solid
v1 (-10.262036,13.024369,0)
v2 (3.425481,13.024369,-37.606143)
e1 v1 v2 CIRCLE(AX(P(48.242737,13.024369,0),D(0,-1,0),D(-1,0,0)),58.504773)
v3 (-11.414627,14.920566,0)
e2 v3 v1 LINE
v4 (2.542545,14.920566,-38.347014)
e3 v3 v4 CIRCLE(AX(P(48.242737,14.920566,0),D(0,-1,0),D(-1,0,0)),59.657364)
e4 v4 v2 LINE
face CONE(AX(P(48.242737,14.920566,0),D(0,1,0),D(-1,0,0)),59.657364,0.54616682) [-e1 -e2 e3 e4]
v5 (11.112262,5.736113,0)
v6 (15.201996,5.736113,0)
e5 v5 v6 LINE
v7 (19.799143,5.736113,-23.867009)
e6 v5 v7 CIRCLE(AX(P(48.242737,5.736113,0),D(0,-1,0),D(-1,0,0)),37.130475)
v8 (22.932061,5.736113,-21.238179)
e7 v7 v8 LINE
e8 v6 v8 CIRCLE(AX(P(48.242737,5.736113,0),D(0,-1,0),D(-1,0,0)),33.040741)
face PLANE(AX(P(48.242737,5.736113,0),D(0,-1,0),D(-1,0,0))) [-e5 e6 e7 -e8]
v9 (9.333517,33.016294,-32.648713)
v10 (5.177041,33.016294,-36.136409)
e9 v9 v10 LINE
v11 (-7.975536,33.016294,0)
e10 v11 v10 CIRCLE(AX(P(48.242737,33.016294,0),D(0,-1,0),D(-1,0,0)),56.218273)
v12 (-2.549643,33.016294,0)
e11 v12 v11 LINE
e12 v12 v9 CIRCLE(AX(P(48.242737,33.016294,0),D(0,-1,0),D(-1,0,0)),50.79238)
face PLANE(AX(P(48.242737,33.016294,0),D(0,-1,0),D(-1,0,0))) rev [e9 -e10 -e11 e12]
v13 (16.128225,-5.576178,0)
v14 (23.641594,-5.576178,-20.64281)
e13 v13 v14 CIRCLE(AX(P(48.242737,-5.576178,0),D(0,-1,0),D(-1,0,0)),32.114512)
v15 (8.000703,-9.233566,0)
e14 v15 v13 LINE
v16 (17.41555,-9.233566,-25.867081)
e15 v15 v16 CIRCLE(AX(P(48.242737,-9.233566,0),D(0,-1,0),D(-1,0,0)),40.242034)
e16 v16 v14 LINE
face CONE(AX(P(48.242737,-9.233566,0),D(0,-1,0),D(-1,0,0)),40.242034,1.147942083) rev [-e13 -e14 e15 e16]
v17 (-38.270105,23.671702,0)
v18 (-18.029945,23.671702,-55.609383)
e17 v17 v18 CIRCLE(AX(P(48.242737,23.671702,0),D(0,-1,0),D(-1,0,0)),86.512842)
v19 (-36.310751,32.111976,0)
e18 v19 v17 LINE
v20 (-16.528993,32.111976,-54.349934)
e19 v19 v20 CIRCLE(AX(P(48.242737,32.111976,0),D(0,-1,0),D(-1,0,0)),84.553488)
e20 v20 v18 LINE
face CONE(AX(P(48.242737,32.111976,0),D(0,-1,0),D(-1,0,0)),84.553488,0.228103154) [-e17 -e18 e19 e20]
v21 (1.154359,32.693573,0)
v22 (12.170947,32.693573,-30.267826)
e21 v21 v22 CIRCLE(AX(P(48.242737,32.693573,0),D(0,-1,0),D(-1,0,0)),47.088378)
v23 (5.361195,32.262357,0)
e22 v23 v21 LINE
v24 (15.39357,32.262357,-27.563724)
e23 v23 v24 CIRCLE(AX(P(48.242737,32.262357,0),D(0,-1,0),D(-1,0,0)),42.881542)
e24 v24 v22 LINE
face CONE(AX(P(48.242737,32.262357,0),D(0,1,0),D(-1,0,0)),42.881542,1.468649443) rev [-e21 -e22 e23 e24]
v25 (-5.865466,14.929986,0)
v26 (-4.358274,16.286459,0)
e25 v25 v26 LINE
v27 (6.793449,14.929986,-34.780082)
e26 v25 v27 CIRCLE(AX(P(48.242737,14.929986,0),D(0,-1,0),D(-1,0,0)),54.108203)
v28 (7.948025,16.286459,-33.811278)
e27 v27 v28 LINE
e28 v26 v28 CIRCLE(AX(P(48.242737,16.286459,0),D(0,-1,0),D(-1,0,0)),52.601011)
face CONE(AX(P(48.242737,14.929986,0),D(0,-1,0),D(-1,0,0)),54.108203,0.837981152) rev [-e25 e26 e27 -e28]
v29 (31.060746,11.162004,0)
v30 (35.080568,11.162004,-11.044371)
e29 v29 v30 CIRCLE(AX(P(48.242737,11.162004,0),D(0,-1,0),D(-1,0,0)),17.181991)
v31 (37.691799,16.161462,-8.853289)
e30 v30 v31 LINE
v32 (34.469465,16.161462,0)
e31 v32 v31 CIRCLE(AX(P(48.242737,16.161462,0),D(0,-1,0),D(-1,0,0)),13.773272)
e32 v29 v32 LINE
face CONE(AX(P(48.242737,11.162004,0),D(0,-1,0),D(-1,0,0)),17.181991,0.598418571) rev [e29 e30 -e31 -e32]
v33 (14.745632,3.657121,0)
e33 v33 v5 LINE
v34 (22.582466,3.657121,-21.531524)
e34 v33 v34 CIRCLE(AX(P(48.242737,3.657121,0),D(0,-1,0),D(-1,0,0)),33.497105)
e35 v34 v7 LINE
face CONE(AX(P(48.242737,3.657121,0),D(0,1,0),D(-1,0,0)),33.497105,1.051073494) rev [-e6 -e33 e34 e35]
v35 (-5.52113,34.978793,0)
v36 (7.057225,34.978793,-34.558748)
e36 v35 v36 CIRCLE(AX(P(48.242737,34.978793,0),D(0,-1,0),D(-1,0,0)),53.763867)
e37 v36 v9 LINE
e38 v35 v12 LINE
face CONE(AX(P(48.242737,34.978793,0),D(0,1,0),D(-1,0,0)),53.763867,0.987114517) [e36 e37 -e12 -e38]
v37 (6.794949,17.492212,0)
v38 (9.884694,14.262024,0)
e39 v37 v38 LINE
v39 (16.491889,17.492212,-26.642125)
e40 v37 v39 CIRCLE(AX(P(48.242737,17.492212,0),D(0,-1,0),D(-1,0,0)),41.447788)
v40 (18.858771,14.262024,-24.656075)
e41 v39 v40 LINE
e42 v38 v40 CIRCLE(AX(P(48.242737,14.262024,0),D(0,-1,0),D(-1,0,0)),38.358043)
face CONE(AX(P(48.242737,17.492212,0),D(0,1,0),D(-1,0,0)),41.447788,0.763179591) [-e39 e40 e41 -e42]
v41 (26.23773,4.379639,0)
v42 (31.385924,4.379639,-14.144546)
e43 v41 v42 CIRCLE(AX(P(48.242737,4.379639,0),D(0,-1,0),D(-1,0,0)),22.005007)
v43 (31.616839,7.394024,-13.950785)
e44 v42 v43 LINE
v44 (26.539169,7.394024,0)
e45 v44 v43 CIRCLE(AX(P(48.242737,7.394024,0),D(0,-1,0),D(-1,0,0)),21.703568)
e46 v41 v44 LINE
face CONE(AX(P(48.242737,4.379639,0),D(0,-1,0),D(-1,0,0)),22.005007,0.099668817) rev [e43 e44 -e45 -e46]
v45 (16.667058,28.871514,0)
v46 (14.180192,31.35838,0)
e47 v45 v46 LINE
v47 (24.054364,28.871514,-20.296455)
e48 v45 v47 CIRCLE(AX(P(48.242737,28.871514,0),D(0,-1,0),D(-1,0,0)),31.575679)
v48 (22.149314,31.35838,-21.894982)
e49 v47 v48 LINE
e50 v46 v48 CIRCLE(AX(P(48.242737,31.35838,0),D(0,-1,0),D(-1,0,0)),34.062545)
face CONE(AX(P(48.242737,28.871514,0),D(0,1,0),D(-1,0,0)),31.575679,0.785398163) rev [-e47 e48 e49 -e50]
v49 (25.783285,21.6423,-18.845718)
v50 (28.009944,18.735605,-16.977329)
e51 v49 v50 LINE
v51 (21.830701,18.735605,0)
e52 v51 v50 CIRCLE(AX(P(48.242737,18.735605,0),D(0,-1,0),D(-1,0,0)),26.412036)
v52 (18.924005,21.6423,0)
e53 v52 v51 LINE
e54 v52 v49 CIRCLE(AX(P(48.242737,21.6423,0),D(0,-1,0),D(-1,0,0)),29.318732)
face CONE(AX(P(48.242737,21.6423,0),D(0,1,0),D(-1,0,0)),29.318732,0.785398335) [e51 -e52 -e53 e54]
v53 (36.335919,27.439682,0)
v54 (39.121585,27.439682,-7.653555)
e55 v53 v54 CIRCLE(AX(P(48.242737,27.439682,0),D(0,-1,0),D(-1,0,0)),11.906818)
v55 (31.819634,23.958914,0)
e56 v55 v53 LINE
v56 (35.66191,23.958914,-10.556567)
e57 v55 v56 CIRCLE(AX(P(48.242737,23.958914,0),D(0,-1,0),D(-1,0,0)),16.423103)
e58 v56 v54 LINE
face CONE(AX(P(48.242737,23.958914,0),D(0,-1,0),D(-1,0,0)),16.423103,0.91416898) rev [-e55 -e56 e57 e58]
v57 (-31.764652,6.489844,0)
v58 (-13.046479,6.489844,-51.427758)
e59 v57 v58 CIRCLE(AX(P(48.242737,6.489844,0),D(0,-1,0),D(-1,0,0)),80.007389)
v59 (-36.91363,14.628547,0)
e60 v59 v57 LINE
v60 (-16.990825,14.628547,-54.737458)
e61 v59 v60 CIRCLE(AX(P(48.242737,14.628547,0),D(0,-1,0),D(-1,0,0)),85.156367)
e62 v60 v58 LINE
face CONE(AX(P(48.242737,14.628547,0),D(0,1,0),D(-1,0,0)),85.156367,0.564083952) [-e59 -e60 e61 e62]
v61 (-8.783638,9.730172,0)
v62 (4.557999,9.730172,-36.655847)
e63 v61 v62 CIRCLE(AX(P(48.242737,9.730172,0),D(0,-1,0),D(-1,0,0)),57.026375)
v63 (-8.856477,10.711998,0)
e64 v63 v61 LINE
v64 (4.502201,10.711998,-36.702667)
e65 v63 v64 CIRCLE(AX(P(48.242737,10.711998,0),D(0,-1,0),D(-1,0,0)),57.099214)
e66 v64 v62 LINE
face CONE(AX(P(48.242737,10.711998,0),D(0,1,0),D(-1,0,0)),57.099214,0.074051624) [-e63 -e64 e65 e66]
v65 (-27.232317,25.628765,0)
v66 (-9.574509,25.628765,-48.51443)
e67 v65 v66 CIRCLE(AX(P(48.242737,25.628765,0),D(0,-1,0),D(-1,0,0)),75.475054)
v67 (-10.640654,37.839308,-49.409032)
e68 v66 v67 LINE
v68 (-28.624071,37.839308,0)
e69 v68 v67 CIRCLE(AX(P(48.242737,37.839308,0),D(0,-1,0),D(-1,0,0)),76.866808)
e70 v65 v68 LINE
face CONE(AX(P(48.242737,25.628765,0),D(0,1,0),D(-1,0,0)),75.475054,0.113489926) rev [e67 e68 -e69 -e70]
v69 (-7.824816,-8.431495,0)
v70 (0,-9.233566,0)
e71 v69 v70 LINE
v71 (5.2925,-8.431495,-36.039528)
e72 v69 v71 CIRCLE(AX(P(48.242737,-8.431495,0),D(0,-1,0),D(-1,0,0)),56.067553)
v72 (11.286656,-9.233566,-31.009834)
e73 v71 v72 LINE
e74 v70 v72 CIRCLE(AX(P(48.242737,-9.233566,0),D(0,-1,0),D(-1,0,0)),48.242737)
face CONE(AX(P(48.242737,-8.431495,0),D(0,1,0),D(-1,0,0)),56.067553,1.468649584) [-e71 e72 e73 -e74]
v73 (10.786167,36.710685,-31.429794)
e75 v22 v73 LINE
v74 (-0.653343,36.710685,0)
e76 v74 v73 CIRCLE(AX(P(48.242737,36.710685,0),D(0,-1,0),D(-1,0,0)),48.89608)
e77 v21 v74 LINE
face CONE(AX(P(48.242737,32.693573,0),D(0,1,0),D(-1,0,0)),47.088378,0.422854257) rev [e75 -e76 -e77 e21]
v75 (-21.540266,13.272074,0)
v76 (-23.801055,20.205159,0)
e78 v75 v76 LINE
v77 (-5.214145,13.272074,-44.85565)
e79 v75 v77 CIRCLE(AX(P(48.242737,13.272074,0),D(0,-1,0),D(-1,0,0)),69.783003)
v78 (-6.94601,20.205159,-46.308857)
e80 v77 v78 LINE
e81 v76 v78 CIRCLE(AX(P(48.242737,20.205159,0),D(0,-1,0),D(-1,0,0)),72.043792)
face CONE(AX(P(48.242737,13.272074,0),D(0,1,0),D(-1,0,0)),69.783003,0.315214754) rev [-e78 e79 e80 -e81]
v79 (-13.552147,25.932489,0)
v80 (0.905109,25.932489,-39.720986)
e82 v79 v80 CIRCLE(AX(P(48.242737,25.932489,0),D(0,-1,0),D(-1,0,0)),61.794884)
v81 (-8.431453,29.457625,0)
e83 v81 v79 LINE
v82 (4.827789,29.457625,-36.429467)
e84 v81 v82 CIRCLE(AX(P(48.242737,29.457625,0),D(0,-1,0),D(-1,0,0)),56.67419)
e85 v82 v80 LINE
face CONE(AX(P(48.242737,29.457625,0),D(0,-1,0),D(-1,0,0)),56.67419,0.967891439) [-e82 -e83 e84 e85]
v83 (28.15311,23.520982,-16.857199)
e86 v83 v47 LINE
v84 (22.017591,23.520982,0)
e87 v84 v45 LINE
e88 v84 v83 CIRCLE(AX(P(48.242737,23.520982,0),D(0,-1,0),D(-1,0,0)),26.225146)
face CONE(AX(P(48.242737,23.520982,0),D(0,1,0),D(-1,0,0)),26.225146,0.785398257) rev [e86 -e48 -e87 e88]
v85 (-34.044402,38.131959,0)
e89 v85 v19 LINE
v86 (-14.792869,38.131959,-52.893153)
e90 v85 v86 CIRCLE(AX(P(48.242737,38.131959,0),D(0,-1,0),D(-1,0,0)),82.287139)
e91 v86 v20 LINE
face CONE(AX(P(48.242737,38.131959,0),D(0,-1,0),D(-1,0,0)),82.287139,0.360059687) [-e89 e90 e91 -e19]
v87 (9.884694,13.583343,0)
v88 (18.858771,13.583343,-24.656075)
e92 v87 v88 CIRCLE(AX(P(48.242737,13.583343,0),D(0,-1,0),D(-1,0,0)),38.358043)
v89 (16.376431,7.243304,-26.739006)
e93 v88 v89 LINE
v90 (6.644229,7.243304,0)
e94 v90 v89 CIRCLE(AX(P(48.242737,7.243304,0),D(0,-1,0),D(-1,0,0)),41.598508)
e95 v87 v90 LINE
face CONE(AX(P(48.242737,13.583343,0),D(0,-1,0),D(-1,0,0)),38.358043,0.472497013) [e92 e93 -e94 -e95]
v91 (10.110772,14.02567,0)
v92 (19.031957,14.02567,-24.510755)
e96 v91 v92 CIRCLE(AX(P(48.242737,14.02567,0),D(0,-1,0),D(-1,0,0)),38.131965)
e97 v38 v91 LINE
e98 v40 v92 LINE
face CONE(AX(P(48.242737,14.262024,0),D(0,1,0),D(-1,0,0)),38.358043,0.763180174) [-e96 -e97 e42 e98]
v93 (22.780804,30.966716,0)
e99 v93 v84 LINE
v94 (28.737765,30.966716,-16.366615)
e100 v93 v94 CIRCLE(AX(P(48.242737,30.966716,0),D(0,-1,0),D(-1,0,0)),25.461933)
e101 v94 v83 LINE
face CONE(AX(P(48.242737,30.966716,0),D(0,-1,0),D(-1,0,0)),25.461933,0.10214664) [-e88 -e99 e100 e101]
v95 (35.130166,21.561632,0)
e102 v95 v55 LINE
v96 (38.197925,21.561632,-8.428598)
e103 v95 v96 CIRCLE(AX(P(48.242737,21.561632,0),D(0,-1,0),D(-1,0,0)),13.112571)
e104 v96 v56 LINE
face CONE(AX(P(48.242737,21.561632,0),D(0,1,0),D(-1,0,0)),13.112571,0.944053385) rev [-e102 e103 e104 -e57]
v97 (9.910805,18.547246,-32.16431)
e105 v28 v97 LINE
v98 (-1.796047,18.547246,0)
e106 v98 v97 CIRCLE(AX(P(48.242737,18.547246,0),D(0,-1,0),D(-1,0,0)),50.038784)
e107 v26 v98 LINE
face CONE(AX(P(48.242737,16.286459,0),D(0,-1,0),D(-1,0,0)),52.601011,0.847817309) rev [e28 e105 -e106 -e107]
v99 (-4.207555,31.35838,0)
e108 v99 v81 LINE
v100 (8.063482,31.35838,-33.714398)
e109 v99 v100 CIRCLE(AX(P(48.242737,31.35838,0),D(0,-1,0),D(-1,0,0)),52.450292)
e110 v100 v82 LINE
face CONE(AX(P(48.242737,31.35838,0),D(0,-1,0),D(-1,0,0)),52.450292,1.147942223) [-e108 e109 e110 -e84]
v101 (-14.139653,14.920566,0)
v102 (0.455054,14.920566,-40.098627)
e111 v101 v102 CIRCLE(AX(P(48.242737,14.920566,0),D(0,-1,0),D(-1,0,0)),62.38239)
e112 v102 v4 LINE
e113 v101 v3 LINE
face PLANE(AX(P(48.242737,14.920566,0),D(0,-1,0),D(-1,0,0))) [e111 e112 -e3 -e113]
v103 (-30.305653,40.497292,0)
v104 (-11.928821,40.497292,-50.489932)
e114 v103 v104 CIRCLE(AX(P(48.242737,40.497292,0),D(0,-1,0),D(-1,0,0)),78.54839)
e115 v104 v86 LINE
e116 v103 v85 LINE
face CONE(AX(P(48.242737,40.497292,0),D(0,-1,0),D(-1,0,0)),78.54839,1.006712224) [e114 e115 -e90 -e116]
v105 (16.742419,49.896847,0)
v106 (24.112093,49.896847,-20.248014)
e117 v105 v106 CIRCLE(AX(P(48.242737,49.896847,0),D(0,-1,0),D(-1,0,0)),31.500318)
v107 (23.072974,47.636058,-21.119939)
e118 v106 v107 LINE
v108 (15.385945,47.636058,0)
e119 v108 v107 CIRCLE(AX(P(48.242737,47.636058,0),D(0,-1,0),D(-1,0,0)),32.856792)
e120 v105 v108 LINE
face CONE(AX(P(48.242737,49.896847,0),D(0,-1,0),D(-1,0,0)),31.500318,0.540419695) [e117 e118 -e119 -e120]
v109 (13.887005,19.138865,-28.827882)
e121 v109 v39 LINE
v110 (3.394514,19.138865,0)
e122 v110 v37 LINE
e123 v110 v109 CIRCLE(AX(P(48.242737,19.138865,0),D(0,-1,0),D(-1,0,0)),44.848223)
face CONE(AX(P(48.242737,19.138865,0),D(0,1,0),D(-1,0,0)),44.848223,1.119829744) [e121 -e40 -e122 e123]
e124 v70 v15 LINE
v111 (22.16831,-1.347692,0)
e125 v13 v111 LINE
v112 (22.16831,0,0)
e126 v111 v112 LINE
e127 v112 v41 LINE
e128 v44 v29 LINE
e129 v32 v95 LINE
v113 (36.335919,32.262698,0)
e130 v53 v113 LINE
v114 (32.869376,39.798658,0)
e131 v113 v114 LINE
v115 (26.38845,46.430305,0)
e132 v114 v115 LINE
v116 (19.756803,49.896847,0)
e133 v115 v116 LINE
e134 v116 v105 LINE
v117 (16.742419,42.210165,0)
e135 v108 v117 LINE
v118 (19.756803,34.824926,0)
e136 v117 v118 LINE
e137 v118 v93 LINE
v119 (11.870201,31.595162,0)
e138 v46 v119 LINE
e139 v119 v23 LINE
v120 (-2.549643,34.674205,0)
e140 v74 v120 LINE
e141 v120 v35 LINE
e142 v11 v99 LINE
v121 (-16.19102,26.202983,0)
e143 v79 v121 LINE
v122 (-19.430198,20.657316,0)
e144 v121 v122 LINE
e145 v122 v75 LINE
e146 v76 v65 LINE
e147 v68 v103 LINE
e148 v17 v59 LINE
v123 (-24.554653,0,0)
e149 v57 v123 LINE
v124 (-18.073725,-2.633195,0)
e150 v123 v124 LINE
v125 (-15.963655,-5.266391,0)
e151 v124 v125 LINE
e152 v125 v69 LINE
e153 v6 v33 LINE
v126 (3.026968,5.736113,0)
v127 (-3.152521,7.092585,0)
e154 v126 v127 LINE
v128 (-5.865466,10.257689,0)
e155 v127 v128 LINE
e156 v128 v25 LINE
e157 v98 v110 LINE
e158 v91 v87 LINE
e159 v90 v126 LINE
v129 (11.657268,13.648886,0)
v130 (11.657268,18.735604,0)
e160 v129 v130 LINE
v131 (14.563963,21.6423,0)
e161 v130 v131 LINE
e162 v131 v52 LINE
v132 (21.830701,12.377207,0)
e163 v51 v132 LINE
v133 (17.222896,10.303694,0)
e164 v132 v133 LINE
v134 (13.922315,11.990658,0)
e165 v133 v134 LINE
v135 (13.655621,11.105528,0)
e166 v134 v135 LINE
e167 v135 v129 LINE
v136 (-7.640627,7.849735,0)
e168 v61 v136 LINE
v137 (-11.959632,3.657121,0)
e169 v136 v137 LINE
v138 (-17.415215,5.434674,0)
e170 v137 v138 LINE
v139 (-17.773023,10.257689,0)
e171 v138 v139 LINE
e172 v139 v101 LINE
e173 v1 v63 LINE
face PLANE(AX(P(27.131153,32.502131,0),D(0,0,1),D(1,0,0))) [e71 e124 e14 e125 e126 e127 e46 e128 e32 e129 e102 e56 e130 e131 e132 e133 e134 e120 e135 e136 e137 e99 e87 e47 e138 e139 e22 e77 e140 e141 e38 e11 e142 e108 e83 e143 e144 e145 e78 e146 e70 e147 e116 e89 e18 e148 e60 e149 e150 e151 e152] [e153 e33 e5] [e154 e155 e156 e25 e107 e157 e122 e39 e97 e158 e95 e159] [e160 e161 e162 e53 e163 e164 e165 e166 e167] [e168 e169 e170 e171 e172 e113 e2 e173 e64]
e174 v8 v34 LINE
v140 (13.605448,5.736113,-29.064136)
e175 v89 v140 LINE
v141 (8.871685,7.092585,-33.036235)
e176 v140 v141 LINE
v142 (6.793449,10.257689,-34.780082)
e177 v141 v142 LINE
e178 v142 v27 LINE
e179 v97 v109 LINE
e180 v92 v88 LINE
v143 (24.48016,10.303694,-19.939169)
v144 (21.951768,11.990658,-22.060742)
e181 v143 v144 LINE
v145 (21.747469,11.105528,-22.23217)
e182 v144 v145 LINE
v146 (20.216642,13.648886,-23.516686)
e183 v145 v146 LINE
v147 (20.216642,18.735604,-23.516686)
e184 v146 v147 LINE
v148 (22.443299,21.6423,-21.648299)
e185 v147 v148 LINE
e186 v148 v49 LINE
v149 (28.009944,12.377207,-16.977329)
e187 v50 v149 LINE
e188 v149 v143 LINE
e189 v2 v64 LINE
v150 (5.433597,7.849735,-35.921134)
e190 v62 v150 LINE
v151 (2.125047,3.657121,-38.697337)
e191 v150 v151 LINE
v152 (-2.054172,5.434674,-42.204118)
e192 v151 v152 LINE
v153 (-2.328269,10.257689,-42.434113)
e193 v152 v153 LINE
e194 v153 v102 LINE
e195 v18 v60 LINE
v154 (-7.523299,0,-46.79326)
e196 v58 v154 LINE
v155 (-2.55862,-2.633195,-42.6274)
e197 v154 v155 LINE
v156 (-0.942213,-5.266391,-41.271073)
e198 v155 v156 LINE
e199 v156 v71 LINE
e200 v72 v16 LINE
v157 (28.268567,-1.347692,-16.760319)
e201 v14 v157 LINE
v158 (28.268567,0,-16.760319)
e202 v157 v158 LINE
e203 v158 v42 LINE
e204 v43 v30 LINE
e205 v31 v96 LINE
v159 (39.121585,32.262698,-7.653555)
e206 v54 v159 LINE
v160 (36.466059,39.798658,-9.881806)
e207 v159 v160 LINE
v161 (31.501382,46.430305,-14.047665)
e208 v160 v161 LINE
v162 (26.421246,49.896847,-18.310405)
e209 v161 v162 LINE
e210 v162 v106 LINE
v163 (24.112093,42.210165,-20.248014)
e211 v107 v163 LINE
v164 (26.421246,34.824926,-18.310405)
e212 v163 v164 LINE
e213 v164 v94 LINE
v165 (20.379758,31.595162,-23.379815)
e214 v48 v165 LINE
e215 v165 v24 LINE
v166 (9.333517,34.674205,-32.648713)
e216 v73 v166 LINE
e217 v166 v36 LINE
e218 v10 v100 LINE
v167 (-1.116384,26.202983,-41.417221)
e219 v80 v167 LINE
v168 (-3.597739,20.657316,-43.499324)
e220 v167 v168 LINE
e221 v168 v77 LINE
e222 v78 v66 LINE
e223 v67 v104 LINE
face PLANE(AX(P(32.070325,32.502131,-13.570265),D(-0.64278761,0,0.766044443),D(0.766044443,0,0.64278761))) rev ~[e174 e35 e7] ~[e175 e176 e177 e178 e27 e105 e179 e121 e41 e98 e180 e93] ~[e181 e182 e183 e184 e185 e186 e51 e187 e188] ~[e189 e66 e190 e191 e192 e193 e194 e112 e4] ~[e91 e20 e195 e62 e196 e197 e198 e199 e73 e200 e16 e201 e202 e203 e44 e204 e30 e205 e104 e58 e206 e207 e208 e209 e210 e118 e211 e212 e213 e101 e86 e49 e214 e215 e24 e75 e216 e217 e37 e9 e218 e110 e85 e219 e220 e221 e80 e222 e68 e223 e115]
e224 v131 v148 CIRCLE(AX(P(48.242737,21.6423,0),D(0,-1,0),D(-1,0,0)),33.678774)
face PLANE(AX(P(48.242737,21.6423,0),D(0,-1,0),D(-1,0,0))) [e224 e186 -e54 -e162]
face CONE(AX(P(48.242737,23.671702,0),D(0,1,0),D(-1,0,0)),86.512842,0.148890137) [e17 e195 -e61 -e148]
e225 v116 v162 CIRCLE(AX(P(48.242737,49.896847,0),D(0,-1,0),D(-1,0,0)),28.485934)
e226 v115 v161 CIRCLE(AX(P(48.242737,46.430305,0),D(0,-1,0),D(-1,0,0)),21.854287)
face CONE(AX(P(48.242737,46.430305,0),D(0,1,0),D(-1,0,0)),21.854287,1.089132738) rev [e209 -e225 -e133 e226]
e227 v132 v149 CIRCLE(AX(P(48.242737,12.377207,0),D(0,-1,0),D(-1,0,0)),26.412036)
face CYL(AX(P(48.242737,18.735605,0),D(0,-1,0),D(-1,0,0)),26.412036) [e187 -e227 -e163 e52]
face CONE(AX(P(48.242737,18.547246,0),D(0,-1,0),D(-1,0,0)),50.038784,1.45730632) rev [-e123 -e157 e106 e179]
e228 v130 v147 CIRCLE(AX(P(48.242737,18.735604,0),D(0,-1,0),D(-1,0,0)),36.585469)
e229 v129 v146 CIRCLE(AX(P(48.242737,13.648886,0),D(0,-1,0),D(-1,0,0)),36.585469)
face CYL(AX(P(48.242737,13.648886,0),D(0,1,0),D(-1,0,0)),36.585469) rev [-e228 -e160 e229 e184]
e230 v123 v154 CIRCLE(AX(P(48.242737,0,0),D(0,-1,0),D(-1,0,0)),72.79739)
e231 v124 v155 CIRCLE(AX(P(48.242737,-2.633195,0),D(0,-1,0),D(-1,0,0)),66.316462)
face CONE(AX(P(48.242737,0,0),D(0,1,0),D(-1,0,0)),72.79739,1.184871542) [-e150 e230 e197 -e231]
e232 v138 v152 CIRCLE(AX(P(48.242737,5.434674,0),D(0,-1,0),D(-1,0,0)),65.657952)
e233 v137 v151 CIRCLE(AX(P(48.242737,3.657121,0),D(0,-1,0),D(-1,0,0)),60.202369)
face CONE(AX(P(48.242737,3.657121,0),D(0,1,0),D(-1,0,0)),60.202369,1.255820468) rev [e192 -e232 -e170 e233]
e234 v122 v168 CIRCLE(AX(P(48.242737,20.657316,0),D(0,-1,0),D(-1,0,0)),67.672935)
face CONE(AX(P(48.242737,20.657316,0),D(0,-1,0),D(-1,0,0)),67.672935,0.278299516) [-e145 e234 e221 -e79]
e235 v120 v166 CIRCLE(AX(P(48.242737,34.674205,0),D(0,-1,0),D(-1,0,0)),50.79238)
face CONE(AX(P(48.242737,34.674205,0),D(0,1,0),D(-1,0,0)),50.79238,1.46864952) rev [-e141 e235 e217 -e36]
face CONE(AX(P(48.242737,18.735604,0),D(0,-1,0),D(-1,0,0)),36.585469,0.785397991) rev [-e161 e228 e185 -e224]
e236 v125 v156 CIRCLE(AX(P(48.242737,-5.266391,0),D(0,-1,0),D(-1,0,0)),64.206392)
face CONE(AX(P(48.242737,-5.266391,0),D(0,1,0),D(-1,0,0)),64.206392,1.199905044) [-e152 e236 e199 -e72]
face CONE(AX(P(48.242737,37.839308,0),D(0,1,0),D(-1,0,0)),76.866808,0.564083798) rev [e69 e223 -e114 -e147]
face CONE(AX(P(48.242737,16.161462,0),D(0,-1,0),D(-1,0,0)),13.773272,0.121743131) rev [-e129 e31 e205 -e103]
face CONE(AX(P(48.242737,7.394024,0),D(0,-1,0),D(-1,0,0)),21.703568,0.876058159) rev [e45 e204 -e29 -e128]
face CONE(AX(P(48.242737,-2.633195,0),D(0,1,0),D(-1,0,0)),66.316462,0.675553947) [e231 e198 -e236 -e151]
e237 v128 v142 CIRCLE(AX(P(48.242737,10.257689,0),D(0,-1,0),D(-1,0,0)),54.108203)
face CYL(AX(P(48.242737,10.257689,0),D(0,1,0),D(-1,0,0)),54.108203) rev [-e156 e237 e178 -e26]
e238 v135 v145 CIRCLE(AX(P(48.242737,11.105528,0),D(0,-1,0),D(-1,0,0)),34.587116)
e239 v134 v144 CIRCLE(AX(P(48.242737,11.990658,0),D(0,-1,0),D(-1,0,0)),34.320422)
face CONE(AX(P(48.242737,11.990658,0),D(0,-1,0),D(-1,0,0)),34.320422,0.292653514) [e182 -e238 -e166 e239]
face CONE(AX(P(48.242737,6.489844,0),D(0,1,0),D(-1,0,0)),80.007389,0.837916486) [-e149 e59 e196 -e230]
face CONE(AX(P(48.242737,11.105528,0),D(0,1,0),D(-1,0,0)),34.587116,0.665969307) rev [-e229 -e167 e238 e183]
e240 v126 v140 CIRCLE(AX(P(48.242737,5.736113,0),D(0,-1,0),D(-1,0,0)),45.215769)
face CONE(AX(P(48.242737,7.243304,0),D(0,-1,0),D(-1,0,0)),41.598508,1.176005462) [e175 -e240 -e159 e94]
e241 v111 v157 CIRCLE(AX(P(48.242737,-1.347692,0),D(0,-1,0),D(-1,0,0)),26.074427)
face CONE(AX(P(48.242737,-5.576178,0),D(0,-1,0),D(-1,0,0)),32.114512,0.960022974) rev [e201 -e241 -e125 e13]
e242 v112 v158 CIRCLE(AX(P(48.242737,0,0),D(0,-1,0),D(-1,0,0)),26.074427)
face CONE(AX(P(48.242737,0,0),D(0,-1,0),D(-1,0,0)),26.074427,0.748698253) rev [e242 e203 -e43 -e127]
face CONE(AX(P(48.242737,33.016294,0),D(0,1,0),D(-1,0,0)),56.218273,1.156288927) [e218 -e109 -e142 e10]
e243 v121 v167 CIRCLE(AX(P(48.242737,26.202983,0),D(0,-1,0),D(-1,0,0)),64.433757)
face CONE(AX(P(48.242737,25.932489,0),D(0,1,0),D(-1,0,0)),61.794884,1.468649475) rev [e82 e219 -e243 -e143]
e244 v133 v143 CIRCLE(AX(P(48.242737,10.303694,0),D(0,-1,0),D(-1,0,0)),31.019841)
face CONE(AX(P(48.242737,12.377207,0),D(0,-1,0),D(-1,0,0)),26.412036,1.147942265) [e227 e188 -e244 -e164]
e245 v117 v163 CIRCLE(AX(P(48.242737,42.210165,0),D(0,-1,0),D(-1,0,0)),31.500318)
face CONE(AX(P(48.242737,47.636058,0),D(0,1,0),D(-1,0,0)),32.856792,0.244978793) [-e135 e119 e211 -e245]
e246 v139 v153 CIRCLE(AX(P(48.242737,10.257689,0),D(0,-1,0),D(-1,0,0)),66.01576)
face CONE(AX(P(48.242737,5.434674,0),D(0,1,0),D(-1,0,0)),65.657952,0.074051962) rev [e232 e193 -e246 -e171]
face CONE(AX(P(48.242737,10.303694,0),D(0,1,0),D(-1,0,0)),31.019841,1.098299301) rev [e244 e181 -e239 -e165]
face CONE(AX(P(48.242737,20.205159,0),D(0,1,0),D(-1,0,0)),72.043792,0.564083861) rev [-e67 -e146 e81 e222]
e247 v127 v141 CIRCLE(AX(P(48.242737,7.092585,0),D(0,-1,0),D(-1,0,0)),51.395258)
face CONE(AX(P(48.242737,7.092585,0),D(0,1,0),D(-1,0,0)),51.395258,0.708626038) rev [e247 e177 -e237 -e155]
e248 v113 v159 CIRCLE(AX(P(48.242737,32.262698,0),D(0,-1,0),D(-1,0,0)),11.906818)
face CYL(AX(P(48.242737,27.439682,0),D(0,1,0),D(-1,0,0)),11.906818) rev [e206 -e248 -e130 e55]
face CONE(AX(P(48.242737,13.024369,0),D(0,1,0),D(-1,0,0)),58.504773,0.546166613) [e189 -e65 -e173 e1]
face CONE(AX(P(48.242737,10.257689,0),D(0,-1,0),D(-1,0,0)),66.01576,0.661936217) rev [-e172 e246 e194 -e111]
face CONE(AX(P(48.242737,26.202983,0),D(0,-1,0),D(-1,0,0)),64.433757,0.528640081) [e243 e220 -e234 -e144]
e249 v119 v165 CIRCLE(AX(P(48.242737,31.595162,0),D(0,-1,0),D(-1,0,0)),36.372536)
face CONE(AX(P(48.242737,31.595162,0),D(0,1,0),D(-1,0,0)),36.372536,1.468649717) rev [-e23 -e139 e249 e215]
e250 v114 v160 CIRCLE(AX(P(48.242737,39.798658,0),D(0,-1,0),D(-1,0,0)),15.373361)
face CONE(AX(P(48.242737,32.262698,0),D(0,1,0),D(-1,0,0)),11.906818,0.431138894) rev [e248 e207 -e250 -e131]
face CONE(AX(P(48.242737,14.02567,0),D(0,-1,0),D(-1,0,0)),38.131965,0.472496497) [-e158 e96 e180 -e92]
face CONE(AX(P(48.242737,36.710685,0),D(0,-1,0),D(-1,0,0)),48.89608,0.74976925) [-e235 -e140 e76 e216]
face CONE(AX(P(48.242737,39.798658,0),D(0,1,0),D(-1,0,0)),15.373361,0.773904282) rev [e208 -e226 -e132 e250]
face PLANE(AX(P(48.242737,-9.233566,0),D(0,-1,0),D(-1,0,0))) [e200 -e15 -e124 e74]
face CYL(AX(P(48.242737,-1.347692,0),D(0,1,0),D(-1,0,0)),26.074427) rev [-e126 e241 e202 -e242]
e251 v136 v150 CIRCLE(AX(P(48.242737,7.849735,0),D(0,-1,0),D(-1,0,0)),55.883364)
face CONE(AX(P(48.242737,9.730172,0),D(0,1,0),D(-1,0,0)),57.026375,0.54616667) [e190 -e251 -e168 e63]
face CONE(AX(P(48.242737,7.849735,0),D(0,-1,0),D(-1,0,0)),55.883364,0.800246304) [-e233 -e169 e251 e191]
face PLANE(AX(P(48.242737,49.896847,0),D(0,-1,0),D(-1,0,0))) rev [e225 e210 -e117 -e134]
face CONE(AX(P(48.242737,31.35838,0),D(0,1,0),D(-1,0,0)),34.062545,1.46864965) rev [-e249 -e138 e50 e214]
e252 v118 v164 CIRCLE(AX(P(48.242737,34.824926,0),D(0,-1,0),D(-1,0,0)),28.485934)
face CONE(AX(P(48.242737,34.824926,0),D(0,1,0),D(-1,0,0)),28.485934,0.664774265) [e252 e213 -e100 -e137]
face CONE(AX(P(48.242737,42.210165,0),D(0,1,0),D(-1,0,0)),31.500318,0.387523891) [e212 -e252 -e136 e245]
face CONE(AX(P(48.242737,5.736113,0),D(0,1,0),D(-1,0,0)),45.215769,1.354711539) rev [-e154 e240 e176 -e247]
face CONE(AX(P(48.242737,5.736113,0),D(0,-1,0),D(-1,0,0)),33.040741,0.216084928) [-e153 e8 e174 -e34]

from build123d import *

# Parameters (mm, degrees)
F1_ANGLE = 40


with BuildPart() as f1:
    # F0 (on Top) → F1 (revolve)
    with BuildSketch(Plane.XY):
        Polygon((28.799957, 21.561632), (28.799957, 12.819916), (35.130166, 21.561632), (31.819634, 23.958914), (36.335919, 27.439682), (36.335919, 32.262698), (32.869376, 39.798658), (26.38845, 46.430305), (19.756803, 49.896847), (16.742419, 49.896847), (15.385945, 47.636058), (16.742419, 42.210165), (19.756803, 34.824926), (22.780804, 30.966716), (24.12766, 29.248312), align=None)
        Polygon((35.130166, 21.561632), (28.799957, 12.819916), (28.799957, 21.561632), (24.12766, 29.248312), (22.780804, 30.966716), (22.017591, 23.520982), (16.667058, 28.871514), (14.180192, 31.35838), (11.870201, 31.595162), (5.361195, 32.262357), (1.154359, 32.693573), (-0.653343, 36.710685), (-2.549643, 34.674205), (-5.52113, 34.978793), (-2.549643, 33.016294), (-7.975536, 33.016294), (-4.207555, 31.35838), (-8.431453, 29.457625), (-13.552147, 25.932489), (-16.19102, 26.202983), (-19.430198, 20.657316), (-21.540266, 13.272074), (-21.540266, 6.489708), (-20.952175, 3.67613), (-20.183794, 0), (-18.073725, -2.633195), (-15.963655, -5.266391), (-7.824816, -8.431495), (0, -9.233566), (8.000703, -9.233566), (16.128225, -5.576178), (22.16831, -1.347692), (22.16831, 0), (26.23773, 4.379639), (26.539169, 7.394024), (31.060746, 11.162004), (34.469465, 16.161462), align=None)
        Polygon((-17.773023, 10.257689), (-14.139653, 14.920566), (-11.414627, 14.920566), (-10.262036, 13.024369), (-8.856477, 10.711998), (-8.783638, 9.730172), (-7.640627, 7.849735), (-11.959632, 3.657121), (-17.415215, 5.434674), align=None, mode=Mode.SUBTRACT)
        Polygon((14.745632, 3.657121), (11.112262, 5.736113), (15.201996, 5.736113), align=None, mode=Mode.SUBTRACT)
        Polygon((6.794949, 17.492212), (9.884694, 14.262024), (10.110772, 14.02567), (9.884694, 13.583343), (6.644229, 7.243304), (3.026968, 5.736113), (-3.152521, 7.092585), (-5.865466, 10.257689), (-5.865466, 14.929986), (-4.358274, 16.286459), (-1.796047, 18.547246), (3.394514, 19.138865), align=None, mode=Mode.SUBTRACT)
        Polygon((13.655621, 11.105528), (11.657268, 13.648886), (11.657268, 18.735604), (14.563963, 21.6423), (18.924005, 21.6423), (21.830701, 18.735605), (21.830701, 12.377207), (17.222896, 10.303694), (13.922315, 11.990658), align=None, mode=Mode.SUBTRACT)
        Polygon((-24.554653, 0), (-18.073725, -2.633195), (-20.183794, 0), (-20.952175, 3.67613), (-21.540266, 6.489708), (-21.540266, 13.272074), (-23.801055, 20.205159), (-27.232317, 25.628765), (-28.624071, 37.839308), (-30.305653, 40.497292), (-34.044402, 38.131959), (-36.310751, 32.111976), (-38.270105, 23.671702), (-36.91363, 14.628547), (-31.764652, 6.489844), align=None)
    revolve(axis=Axis((48.242737, 22.056726, 0), (0, -1, 0)), revolution_arc=F1_ANGLE)


solid = f1.part
